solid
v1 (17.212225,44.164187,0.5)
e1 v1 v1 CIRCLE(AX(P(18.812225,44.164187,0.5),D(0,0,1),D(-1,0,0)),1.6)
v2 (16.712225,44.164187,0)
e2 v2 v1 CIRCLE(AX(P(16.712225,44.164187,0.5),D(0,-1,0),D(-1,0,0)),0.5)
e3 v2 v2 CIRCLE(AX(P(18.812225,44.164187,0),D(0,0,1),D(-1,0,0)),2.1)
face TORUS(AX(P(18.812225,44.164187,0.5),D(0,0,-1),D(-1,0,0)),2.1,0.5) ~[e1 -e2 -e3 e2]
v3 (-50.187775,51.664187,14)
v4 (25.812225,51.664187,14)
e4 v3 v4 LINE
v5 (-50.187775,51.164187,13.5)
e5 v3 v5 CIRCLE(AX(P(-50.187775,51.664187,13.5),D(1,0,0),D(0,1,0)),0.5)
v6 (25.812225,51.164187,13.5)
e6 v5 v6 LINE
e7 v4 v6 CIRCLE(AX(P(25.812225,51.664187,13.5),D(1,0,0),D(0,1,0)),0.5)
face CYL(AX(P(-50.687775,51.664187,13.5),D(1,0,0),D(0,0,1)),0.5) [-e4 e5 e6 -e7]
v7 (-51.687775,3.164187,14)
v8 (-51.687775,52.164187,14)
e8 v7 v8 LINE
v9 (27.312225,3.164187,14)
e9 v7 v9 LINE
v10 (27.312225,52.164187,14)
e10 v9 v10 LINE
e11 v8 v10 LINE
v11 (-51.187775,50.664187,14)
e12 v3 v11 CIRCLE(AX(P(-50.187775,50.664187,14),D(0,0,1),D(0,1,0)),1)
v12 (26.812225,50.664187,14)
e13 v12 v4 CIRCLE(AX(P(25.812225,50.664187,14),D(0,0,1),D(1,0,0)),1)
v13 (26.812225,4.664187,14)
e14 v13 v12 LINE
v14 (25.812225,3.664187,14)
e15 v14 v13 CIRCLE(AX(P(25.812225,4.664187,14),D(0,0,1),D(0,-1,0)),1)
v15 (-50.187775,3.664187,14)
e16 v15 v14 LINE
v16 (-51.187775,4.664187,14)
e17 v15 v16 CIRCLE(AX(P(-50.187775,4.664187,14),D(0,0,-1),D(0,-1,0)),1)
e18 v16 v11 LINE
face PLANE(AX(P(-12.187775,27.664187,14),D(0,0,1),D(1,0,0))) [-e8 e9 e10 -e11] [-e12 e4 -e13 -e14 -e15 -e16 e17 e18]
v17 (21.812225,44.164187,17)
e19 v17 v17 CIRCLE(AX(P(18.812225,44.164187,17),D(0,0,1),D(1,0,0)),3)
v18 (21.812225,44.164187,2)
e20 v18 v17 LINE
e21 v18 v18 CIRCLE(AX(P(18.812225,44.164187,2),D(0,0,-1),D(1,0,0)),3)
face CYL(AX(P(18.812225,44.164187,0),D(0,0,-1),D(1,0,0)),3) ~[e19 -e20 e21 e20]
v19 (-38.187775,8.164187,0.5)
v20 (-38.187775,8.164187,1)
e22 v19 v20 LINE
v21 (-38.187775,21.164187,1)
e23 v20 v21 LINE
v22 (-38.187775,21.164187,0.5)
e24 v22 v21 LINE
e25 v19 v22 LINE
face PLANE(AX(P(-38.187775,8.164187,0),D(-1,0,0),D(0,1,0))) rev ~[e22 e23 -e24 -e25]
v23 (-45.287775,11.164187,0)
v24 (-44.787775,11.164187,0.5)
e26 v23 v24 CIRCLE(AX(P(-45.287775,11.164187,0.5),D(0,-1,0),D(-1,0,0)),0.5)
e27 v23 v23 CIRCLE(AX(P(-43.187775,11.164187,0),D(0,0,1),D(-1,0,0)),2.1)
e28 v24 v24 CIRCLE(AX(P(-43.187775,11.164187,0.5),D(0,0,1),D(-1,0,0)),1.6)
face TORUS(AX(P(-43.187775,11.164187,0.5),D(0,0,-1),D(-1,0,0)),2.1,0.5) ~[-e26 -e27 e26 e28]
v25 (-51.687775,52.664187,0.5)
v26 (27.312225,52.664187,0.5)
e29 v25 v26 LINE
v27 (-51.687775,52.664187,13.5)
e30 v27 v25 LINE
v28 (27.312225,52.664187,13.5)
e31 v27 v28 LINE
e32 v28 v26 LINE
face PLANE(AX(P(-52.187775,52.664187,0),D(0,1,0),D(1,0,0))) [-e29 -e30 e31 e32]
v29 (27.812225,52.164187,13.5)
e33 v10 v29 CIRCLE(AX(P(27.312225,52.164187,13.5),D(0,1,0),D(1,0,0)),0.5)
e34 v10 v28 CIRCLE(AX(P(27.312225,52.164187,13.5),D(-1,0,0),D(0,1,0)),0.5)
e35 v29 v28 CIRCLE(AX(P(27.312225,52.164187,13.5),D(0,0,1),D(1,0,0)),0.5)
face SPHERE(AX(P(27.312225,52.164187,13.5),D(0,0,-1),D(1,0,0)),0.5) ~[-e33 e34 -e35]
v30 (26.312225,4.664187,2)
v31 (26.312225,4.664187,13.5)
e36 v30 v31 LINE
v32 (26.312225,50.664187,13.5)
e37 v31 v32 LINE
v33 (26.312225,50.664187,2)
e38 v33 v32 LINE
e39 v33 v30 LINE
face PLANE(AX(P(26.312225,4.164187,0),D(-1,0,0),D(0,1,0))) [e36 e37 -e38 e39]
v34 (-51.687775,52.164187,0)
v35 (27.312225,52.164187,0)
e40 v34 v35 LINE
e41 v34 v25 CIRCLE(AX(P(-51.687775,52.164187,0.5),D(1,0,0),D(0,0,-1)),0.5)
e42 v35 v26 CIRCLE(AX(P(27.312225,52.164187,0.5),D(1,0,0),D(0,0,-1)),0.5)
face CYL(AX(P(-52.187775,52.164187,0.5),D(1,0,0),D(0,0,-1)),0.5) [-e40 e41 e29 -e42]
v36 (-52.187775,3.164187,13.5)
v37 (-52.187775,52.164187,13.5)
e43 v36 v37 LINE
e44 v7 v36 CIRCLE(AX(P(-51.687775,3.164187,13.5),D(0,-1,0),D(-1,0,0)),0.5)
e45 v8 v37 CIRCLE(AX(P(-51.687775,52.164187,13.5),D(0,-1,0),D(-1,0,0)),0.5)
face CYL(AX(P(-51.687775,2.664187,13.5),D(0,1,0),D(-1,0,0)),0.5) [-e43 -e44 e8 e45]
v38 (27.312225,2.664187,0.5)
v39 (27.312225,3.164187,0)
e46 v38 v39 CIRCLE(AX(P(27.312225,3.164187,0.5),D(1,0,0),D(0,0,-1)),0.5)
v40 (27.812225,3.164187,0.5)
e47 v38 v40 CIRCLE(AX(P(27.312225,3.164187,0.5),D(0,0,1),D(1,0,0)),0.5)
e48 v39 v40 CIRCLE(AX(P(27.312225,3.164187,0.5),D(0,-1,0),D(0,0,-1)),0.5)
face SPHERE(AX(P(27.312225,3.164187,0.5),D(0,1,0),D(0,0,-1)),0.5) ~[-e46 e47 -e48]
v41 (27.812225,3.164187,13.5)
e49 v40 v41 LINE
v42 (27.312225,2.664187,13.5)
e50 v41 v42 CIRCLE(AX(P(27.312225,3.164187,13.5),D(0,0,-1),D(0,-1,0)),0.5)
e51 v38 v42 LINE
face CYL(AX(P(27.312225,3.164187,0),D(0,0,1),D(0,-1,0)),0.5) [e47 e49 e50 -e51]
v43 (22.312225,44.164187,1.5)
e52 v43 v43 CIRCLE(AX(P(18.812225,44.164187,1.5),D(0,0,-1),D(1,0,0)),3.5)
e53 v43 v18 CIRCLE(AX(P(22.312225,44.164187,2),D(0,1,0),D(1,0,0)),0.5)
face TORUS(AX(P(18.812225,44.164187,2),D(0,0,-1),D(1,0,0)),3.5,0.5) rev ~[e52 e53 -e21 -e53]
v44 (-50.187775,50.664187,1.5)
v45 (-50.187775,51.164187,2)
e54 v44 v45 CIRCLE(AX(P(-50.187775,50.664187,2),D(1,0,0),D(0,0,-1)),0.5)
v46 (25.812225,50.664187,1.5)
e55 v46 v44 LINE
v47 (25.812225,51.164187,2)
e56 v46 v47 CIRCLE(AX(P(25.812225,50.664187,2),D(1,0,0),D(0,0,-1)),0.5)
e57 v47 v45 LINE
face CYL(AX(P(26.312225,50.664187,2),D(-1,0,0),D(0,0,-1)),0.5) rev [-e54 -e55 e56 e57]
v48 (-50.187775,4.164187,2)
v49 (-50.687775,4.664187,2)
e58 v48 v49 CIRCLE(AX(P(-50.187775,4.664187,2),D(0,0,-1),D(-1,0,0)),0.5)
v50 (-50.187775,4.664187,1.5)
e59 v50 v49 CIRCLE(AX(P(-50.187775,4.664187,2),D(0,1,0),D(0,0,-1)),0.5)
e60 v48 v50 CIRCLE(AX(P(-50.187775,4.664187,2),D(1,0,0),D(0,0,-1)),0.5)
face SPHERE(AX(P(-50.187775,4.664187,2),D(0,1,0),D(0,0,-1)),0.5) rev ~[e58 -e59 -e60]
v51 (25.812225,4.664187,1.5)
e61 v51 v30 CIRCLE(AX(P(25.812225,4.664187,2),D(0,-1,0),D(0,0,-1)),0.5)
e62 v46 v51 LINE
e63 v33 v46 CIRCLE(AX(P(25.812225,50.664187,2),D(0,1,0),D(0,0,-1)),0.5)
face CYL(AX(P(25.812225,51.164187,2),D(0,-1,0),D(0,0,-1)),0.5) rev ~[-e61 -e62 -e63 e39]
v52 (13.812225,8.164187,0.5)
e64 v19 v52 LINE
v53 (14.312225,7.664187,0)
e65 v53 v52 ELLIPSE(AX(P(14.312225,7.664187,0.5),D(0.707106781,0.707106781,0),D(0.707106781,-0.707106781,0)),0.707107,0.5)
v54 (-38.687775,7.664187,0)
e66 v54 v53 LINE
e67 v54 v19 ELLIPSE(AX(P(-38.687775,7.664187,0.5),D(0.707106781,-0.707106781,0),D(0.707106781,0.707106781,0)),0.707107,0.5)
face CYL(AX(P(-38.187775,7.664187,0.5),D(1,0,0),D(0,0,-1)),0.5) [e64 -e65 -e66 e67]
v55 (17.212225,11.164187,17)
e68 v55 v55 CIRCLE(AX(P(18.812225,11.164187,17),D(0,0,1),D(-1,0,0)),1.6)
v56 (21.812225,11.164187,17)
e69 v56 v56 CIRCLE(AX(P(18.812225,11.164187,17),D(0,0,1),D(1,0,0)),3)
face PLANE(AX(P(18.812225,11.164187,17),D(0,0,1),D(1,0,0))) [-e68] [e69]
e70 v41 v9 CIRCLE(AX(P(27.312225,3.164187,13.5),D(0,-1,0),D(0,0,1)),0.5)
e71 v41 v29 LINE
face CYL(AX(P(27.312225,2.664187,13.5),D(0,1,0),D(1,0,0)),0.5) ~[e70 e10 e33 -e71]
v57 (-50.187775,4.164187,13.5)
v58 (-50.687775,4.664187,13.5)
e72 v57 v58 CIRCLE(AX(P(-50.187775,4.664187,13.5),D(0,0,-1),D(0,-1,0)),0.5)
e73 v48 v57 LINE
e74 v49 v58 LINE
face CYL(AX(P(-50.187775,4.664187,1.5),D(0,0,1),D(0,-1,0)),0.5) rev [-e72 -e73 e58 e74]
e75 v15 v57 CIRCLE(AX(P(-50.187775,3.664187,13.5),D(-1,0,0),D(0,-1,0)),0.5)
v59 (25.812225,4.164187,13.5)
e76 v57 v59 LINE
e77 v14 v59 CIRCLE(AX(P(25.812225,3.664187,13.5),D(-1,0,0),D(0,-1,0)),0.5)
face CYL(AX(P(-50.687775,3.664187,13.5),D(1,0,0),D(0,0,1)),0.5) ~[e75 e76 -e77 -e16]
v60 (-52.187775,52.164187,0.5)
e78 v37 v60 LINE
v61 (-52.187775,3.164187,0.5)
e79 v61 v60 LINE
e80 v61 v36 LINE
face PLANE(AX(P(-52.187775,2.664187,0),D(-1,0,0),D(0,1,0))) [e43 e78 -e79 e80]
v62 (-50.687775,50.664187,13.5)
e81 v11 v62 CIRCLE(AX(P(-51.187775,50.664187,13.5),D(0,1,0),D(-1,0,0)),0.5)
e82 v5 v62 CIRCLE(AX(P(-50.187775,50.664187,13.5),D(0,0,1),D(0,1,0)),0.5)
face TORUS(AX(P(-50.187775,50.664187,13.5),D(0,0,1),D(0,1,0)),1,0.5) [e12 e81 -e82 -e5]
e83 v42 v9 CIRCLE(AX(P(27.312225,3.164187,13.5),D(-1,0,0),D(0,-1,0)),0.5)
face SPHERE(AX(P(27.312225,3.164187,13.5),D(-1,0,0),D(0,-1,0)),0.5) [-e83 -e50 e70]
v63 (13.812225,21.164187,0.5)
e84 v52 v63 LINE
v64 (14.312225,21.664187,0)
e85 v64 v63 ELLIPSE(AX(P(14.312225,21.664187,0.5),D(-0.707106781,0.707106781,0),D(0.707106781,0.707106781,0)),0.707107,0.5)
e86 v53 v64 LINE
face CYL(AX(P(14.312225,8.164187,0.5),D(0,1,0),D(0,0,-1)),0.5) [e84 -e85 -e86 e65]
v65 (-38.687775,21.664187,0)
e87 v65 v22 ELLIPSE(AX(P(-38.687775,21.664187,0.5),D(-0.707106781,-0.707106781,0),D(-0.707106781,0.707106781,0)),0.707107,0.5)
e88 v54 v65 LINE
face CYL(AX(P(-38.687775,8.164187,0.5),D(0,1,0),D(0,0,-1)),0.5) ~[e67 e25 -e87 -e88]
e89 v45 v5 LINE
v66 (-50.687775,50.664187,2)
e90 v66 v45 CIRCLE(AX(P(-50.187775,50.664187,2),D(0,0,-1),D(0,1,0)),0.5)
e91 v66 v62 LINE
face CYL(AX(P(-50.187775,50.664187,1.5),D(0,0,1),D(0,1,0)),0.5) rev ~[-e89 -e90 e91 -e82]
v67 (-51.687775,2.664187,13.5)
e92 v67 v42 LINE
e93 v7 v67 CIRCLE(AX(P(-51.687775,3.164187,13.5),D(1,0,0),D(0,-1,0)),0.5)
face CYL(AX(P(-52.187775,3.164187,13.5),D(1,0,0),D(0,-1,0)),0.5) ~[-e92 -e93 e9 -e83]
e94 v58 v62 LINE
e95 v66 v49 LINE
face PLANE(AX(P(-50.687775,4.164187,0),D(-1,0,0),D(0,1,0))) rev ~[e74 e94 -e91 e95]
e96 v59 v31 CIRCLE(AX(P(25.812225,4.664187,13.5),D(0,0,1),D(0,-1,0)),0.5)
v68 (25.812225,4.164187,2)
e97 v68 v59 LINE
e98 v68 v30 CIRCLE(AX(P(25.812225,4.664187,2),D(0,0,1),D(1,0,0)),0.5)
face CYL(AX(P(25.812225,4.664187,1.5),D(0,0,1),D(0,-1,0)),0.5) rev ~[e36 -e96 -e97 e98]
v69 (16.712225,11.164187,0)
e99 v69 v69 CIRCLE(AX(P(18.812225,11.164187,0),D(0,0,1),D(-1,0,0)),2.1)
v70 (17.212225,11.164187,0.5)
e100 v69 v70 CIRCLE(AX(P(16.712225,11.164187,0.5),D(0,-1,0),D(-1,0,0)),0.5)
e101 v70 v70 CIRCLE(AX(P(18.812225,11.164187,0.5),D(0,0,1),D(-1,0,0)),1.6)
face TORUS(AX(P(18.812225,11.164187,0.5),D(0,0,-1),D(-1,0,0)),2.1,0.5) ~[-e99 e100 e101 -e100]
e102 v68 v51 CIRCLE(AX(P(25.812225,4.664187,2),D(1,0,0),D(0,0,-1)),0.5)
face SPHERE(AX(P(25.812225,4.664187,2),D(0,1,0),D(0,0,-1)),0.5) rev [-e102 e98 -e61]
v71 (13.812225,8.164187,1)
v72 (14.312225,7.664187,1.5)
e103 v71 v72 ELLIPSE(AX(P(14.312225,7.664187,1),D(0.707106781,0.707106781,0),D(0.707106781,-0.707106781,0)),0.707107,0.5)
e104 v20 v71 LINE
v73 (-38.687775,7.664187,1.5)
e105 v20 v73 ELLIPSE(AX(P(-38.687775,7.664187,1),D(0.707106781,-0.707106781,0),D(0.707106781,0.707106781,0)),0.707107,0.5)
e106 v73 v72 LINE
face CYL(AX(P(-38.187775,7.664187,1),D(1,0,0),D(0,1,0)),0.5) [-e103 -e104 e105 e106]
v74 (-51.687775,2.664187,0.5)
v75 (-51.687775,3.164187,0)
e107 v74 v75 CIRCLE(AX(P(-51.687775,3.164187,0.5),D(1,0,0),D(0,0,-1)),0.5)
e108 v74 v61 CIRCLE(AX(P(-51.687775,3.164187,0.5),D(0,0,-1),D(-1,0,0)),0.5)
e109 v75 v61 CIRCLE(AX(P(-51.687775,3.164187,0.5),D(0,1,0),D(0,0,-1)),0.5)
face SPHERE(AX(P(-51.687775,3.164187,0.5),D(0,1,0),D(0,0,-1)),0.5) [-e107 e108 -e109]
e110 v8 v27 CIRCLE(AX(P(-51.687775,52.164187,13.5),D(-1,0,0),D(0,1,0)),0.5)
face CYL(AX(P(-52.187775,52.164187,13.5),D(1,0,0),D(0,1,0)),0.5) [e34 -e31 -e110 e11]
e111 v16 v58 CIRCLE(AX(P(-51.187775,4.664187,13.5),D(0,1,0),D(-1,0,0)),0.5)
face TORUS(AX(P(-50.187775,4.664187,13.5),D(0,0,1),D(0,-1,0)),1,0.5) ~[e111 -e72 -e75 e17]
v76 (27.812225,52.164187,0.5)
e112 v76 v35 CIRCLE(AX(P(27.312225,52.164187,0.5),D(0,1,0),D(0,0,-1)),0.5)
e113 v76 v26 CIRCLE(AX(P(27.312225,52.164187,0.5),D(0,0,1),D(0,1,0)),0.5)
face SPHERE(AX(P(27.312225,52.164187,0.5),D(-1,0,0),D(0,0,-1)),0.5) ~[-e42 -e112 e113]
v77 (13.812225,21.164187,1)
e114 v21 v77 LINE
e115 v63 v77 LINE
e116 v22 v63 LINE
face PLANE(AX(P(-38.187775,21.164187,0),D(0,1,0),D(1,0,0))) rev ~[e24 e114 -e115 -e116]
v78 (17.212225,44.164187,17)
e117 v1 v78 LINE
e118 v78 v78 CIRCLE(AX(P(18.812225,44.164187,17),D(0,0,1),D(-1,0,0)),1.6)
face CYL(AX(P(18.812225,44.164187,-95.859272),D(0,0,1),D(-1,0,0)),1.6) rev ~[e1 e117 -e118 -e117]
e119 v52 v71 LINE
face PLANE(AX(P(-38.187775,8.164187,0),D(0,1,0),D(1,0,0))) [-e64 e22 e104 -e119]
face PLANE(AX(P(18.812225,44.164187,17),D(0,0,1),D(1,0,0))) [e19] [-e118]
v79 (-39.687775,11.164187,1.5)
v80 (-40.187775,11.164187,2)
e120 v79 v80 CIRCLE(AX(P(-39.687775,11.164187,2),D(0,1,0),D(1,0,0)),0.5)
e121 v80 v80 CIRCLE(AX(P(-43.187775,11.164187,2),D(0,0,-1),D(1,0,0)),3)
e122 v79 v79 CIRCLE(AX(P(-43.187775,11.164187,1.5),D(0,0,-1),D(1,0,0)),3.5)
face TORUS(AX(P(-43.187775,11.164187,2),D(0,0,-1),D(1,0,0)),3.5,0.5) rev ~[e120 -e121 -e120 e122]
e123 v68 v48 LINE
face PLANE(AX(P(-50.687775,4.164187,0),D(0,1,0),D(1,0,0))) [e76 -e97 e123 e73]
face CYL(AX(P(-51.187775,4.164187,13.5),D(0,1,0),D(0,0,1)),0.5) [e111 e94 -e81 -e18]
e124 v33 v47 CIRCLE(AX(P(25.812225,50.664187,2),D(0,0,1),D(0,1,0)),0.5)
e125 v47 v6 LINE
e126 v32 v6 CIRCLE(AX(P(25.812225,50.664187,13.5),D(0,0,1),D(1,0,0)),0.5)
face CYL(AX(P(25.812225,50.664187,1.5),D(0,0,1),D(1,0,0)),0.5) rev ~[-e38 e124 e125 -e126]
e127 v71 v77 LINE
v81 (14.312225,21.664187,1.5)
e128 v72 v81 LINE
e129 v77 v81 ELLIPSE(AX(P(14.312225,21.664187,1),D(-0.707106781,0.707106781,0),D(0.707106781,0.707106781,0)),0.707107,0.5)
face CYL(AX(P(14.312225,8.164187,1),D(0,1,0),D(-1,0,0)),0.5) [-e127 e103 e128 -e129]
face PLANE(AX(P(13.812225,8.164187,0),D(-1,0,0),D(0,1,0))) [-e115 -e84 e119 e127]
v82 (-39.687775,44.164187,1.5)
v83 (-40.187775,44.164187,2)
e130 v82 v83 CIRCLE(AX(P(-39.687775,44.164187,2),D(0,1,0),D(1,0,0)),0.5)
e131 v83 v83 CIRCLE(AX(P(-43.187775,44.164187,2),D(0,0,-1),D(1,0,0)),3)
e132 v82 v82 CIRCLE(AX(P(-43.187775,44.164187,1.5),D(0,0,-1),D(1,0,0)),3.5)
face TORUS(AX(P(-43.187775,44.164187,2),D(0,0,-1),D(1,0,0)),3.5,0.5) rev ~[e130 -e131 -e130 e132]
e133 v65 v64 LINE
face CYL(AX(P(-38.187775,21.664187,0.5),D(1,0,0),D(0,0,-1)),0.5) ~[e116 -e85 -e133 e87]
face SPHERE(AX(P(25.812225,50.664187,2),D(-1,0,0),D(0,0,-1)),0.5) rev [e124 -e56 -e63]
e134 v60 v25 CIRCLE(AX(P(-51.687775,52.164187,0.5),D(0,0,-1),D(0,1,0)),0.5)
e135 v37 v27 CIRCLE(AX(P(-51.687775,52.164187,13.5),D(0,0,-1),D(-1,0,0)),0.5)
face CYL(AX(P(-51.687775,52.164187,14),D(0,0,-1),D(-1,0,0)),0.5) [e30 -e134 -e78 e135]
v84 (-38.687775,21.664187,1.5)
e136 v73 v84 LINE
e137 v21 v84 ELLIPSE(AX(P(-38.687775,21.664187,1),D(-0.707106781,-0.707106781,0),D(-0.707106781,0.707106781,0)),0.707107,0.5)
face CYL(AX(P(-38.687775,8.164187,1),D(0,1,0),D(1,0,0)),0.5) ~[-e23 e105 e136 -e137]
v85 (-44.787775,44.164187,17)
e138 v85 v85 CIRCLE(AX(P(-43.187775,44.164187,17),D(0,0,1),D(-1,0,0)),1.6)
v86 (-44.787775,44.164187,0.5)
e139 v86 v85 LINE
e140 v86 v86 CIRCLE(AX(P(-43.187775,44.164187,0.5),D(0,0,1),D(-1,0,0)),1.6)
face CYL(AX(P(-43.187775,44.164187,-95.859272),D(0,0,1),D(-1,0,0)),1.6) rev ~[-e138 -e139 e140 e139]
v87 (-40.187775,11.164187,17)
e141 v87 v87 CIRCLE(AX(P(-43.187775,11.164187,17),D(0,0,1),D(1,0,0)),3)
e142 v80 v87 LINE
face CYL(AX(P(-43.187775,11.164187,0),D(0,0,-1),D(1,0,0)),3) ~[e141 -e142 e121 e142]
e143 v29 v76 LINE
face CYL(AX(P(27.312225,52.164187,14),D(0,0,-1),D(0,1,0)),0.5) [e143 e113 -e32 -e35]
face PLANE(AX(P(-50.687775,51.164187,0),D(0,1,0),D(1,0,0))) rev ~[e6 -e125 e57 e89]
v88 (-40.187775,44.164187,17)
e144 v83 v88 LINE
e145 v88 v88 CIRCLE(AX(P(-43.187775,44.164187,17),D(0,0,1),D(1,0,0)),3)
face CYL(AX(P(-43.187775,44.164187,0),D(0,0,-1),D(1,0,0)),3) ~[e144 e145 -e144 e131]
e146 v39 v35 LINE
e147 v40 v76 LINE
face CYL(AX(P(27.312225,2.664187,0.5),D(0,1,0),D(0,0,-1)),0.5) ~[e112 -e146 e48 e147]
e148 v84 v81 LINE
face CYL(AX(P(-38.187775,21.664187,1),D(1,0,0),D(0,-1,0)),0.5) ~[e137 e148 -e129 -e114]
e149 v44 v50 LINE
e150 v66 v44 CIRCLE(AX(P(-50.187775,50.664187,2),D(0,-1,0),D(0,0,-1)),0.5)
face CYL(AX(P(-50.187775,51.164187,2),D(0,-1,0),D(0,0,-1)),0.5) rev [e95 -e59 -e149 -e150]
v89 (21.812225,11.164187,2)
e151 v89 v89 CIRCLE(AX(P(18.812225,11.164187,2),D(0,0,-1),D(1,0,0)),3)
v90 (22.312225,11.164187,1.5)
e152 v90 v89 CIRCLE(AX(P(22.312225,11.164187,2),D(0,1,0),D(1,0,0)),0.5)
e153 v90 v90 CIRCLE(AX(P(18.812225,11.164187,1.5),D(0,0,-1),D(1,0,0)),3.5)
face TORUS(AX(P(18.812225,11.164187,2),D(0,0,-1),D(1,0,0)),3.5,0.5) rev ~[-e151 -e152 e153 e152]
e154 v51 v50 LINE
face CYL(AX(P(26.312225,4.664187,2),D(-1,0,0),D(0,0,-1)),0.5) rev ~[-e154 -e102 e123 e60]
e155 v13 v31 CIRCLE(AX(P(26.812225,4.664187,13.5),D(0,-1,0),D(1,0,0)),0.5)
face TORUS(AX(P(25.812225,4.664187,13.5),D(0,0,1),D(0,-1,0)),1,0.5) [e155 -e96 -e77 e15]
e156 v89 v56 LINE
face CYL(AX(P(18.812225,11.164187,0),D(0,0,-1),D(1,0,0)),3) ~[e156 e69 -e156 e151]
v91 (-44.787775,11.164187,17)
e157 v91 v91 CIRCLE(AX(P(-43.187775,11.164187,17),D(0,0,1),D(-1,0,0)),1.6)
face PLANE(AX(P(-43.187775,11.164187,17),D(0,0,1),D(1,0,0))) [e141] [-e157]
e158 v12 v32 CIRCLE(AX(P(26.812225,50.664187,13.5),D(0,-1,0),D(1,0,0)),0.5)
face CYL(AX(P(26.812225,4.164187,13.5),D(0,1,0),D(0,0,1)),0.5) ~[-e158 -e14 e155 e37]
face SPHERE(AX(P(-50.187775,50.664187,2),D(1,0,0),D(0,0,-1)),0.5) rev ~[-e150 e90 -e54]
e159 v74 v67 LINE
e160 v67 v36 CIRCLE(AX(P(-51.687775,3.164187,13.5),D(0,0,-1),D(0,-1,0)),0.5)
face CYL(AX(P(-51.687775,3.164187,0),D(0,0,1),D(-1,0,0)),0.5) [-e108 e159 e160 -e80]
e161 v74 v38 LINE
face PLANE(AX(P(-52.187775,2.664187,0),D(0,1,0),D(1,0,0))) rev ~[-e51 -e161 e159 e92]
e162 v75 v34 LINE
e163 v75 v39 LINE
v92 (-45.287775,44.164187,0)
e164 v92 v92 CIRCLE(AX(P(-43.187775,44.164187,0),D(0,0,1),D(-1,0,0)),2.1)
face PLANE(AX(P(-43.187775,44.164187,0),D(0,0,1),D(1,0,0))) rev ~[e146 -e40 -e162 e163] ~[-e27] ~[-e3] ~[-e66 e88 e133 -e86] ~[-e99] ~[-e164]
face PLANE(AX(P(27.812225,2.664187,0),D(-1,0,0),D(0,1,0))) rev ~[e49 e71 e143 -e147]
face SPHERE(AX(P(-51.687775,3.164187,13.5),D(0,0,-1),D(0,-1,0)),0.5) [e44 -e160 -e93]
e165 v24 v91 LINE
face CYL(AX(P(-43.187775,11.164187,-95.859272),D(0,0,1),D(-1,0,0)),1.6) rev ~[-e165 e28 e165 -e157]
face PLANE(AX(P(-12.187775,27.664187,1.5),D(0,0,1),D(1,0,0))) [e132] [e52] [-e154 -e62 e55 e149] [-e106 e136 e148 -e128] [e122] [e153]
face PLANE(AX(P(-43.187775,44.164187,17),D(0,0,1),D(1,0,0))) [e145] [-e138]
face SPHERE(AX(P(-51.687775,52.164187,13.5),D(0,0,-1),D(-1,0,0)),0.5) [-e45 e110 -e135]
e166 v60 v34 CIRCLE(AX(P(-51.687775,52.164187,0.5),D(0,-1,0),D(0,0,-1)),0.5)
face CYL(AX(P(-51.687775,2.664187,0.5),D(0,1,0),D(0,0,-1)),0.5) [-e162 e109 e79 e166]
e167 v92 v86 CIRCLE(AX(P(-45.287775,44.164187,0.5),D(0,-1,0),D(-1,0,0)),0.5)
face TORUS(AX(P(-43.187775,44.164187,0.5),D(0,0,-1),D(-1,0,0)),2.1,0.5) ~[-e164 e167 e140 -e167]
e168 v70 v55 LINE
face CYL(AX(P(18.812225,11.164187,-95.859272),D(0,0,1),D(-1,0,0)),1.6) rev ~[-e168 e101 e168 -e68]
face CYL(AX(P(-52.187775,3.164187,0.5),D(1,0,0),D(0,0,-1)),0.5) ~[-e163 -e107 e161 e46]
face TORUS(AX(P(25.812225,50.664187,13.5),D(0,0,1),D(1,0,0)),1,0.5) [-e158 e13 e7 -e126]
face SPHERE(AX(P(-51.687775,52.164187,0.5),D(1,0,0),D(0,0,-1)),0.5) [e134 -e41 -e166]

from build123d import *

# Parameters (mm, degrees)
F0_W     = 80
F0_H     = 50
F0_W_2   = 77
F0_H_2   = 47
F0_R     = 3
F0_W_3   = 52
F0_H_3   = 13
F1_DEPTH = 1.5
F2_DEPTH = 14
F3_DEPTH = 17
F4_D     = 3.2
F5_R     = 0.5


with BuildPart() as f1:
    # F0 (on Top) → F1 (new body)
    with BuildSketch(Plane.XY):
        with Locations((-12.1877747178, 27.6641865224)):
            Rectangle(F0_W, F0_H)
        with Locations((-12.1877747178, 27.6641865224)):
            Rectangle(F0_W_2, F0_H_2, mode=Mode.SUBTRACT)
        with Locations((-12.1877747178, 27.6641865224)):
            Rectangle(F0_W_2, F0_H_2)
        with Locations((-43.1877747178, 11.1641865224)):
            Circle(F0_R, mode=Mode.SUBTRACT)
        with Locations((-12.1877747178, 14.6641865224)):
            Rectangle(F0_W_3, F0_H_3, mode=Mode.SUBTRACT)
        with Locations((18.8122252822, 11.1641865224)):
            Circle(F0_R, mode=Mode.SUBTRACT)
        with Locations((-43.1877747178, 44.1641865224)):
            Circle(F0_R, mode=Mode.SUBTRACT)
        with Locations((18.8122252822, 44.1641865224)):
            Circle(F0_R, mode=Mode.SUBTRACT)
        with Locations((18.8122252822, 11.1641865224)):
            Circle(F0_R)
        with Locations((-43.1877747178, 11.1641865224)):
            Circle(F0_R)
        with Locations((-43.1877747178, 44.1641865224)):
            Circle(F0_R)
        with Locations((18.8122252822, 44.1641865224)):
            Circle(F0_R)
    extrude(amount=F1_DEPTH)

    # F0 (on Top) → F2 (join)
    with BuildSketch(Plane.XY):
        with Locations((-12.1877747178, 27.6641865224)):
            Rectangle(F0_W, F0_H)
        with Locations((-12.1877747178, 27.6641865224)):
            Rectangle(F0_W_2, F0_H_2, mode=Mode.SUBTRACT)
    extrude(amount=F2_DEPTH)

    # F0 (on Top) → F3 (join)
    with BuildSketch(Plane.XY):
        with Locations((-43.1877747178, 44.1641865224)):
            Circle(F0_R)
        with Locations((-43.1877747178, 11.1641865224)):
            Circle(F0_R)
        with Locations((18.8122252822, 44.1641865224)):
            Circle(F0_R)
        with Locations((18.8122252822, 11.1641865224)):
            Circle(F0_R)
    extrude(amount=F3_DEPTH)

    # F4 (through all)
    with Locations(Plane(origin=(0, 0, 0), x_dir=(1, 0, 0), z_dir=(0, 0, -1))):
        with Locations((18.8122252822, -11.1641865224), (-43.1877747178, -11.1641865224), (-43.1877747178, -44.1641865224), (18.8122252822, -44.1641865224)):
            Hole(F4_D / 2)

    # F5
    f5_edges = [f1.edges().sort_by_distance(p)[0] for p in [
        (-12.187775, 52.664187, 0),
        (27.812225, 27.664187, 0),
        (-52.187775, 27.664187, 0),
        (-12.187775, 2.664187, 0),
        (-44.787775, 11.164187, 0),
        (-38.187775, 14.664187, 0),
        (-12.187775, 8.164187, 0),
        (-12.187775, 21.164187, 0),
        (13.812225, 14.664187, 0),
        (17.212225, 11.164187, 0),
        (-44.787775, 44.164187, 0),
        (17.212225, 44.164187, 0),
        (27.812225, 52.664187, 7),
        (-52.187775, 52.664187, 7),
        (-52.187775, 2.664187, 7),
        (-12.187775, 2.664187, 14),
        (-52.187775, 27.664187, 14),
        (27.812225, 2.664187, 7),
        (27.812225, 27.664187, 14),
        (-12.187775, 51.164187, 1.5),
        (26.312225, 27.664187, 1.5),
        (-50.687775, 27.664187, 1.5),
        (-12.187775, 4.164187, 1.5),
        (-46.187775, 11.164187, 1.5),
        (-38.187775, 14.664187, 1.5),
        (-12.187775, 8.164187, 1.5),
        (-12.187775, 21.164187, 1.5),
        (13.812225, 14.664187, 1.5),
        (15.812225, 11.164187, 1.5),
        (-46.187775, 44.164187, 1.5),
        (15.812225, 44.164187, 1.5),
        (26.312225, 4.164187, 7.75),
        (-12.187775, 4.164187, 14),
        (26.312225, 27.664187, 14),
        (-12.187775, 51.164187, 14),
        (-12.187775, 52.664187, 14),
        (-50.687775, 27.664187, 14),
        (26.312225, 51.164187, 7.75),
        (-50.687775, 51.164187, 7.75),
        (-50.687775, 4.164187, 7.75),
    ]]
    fillet(f5_edges, radius=F5_R)


solid = f1.part
